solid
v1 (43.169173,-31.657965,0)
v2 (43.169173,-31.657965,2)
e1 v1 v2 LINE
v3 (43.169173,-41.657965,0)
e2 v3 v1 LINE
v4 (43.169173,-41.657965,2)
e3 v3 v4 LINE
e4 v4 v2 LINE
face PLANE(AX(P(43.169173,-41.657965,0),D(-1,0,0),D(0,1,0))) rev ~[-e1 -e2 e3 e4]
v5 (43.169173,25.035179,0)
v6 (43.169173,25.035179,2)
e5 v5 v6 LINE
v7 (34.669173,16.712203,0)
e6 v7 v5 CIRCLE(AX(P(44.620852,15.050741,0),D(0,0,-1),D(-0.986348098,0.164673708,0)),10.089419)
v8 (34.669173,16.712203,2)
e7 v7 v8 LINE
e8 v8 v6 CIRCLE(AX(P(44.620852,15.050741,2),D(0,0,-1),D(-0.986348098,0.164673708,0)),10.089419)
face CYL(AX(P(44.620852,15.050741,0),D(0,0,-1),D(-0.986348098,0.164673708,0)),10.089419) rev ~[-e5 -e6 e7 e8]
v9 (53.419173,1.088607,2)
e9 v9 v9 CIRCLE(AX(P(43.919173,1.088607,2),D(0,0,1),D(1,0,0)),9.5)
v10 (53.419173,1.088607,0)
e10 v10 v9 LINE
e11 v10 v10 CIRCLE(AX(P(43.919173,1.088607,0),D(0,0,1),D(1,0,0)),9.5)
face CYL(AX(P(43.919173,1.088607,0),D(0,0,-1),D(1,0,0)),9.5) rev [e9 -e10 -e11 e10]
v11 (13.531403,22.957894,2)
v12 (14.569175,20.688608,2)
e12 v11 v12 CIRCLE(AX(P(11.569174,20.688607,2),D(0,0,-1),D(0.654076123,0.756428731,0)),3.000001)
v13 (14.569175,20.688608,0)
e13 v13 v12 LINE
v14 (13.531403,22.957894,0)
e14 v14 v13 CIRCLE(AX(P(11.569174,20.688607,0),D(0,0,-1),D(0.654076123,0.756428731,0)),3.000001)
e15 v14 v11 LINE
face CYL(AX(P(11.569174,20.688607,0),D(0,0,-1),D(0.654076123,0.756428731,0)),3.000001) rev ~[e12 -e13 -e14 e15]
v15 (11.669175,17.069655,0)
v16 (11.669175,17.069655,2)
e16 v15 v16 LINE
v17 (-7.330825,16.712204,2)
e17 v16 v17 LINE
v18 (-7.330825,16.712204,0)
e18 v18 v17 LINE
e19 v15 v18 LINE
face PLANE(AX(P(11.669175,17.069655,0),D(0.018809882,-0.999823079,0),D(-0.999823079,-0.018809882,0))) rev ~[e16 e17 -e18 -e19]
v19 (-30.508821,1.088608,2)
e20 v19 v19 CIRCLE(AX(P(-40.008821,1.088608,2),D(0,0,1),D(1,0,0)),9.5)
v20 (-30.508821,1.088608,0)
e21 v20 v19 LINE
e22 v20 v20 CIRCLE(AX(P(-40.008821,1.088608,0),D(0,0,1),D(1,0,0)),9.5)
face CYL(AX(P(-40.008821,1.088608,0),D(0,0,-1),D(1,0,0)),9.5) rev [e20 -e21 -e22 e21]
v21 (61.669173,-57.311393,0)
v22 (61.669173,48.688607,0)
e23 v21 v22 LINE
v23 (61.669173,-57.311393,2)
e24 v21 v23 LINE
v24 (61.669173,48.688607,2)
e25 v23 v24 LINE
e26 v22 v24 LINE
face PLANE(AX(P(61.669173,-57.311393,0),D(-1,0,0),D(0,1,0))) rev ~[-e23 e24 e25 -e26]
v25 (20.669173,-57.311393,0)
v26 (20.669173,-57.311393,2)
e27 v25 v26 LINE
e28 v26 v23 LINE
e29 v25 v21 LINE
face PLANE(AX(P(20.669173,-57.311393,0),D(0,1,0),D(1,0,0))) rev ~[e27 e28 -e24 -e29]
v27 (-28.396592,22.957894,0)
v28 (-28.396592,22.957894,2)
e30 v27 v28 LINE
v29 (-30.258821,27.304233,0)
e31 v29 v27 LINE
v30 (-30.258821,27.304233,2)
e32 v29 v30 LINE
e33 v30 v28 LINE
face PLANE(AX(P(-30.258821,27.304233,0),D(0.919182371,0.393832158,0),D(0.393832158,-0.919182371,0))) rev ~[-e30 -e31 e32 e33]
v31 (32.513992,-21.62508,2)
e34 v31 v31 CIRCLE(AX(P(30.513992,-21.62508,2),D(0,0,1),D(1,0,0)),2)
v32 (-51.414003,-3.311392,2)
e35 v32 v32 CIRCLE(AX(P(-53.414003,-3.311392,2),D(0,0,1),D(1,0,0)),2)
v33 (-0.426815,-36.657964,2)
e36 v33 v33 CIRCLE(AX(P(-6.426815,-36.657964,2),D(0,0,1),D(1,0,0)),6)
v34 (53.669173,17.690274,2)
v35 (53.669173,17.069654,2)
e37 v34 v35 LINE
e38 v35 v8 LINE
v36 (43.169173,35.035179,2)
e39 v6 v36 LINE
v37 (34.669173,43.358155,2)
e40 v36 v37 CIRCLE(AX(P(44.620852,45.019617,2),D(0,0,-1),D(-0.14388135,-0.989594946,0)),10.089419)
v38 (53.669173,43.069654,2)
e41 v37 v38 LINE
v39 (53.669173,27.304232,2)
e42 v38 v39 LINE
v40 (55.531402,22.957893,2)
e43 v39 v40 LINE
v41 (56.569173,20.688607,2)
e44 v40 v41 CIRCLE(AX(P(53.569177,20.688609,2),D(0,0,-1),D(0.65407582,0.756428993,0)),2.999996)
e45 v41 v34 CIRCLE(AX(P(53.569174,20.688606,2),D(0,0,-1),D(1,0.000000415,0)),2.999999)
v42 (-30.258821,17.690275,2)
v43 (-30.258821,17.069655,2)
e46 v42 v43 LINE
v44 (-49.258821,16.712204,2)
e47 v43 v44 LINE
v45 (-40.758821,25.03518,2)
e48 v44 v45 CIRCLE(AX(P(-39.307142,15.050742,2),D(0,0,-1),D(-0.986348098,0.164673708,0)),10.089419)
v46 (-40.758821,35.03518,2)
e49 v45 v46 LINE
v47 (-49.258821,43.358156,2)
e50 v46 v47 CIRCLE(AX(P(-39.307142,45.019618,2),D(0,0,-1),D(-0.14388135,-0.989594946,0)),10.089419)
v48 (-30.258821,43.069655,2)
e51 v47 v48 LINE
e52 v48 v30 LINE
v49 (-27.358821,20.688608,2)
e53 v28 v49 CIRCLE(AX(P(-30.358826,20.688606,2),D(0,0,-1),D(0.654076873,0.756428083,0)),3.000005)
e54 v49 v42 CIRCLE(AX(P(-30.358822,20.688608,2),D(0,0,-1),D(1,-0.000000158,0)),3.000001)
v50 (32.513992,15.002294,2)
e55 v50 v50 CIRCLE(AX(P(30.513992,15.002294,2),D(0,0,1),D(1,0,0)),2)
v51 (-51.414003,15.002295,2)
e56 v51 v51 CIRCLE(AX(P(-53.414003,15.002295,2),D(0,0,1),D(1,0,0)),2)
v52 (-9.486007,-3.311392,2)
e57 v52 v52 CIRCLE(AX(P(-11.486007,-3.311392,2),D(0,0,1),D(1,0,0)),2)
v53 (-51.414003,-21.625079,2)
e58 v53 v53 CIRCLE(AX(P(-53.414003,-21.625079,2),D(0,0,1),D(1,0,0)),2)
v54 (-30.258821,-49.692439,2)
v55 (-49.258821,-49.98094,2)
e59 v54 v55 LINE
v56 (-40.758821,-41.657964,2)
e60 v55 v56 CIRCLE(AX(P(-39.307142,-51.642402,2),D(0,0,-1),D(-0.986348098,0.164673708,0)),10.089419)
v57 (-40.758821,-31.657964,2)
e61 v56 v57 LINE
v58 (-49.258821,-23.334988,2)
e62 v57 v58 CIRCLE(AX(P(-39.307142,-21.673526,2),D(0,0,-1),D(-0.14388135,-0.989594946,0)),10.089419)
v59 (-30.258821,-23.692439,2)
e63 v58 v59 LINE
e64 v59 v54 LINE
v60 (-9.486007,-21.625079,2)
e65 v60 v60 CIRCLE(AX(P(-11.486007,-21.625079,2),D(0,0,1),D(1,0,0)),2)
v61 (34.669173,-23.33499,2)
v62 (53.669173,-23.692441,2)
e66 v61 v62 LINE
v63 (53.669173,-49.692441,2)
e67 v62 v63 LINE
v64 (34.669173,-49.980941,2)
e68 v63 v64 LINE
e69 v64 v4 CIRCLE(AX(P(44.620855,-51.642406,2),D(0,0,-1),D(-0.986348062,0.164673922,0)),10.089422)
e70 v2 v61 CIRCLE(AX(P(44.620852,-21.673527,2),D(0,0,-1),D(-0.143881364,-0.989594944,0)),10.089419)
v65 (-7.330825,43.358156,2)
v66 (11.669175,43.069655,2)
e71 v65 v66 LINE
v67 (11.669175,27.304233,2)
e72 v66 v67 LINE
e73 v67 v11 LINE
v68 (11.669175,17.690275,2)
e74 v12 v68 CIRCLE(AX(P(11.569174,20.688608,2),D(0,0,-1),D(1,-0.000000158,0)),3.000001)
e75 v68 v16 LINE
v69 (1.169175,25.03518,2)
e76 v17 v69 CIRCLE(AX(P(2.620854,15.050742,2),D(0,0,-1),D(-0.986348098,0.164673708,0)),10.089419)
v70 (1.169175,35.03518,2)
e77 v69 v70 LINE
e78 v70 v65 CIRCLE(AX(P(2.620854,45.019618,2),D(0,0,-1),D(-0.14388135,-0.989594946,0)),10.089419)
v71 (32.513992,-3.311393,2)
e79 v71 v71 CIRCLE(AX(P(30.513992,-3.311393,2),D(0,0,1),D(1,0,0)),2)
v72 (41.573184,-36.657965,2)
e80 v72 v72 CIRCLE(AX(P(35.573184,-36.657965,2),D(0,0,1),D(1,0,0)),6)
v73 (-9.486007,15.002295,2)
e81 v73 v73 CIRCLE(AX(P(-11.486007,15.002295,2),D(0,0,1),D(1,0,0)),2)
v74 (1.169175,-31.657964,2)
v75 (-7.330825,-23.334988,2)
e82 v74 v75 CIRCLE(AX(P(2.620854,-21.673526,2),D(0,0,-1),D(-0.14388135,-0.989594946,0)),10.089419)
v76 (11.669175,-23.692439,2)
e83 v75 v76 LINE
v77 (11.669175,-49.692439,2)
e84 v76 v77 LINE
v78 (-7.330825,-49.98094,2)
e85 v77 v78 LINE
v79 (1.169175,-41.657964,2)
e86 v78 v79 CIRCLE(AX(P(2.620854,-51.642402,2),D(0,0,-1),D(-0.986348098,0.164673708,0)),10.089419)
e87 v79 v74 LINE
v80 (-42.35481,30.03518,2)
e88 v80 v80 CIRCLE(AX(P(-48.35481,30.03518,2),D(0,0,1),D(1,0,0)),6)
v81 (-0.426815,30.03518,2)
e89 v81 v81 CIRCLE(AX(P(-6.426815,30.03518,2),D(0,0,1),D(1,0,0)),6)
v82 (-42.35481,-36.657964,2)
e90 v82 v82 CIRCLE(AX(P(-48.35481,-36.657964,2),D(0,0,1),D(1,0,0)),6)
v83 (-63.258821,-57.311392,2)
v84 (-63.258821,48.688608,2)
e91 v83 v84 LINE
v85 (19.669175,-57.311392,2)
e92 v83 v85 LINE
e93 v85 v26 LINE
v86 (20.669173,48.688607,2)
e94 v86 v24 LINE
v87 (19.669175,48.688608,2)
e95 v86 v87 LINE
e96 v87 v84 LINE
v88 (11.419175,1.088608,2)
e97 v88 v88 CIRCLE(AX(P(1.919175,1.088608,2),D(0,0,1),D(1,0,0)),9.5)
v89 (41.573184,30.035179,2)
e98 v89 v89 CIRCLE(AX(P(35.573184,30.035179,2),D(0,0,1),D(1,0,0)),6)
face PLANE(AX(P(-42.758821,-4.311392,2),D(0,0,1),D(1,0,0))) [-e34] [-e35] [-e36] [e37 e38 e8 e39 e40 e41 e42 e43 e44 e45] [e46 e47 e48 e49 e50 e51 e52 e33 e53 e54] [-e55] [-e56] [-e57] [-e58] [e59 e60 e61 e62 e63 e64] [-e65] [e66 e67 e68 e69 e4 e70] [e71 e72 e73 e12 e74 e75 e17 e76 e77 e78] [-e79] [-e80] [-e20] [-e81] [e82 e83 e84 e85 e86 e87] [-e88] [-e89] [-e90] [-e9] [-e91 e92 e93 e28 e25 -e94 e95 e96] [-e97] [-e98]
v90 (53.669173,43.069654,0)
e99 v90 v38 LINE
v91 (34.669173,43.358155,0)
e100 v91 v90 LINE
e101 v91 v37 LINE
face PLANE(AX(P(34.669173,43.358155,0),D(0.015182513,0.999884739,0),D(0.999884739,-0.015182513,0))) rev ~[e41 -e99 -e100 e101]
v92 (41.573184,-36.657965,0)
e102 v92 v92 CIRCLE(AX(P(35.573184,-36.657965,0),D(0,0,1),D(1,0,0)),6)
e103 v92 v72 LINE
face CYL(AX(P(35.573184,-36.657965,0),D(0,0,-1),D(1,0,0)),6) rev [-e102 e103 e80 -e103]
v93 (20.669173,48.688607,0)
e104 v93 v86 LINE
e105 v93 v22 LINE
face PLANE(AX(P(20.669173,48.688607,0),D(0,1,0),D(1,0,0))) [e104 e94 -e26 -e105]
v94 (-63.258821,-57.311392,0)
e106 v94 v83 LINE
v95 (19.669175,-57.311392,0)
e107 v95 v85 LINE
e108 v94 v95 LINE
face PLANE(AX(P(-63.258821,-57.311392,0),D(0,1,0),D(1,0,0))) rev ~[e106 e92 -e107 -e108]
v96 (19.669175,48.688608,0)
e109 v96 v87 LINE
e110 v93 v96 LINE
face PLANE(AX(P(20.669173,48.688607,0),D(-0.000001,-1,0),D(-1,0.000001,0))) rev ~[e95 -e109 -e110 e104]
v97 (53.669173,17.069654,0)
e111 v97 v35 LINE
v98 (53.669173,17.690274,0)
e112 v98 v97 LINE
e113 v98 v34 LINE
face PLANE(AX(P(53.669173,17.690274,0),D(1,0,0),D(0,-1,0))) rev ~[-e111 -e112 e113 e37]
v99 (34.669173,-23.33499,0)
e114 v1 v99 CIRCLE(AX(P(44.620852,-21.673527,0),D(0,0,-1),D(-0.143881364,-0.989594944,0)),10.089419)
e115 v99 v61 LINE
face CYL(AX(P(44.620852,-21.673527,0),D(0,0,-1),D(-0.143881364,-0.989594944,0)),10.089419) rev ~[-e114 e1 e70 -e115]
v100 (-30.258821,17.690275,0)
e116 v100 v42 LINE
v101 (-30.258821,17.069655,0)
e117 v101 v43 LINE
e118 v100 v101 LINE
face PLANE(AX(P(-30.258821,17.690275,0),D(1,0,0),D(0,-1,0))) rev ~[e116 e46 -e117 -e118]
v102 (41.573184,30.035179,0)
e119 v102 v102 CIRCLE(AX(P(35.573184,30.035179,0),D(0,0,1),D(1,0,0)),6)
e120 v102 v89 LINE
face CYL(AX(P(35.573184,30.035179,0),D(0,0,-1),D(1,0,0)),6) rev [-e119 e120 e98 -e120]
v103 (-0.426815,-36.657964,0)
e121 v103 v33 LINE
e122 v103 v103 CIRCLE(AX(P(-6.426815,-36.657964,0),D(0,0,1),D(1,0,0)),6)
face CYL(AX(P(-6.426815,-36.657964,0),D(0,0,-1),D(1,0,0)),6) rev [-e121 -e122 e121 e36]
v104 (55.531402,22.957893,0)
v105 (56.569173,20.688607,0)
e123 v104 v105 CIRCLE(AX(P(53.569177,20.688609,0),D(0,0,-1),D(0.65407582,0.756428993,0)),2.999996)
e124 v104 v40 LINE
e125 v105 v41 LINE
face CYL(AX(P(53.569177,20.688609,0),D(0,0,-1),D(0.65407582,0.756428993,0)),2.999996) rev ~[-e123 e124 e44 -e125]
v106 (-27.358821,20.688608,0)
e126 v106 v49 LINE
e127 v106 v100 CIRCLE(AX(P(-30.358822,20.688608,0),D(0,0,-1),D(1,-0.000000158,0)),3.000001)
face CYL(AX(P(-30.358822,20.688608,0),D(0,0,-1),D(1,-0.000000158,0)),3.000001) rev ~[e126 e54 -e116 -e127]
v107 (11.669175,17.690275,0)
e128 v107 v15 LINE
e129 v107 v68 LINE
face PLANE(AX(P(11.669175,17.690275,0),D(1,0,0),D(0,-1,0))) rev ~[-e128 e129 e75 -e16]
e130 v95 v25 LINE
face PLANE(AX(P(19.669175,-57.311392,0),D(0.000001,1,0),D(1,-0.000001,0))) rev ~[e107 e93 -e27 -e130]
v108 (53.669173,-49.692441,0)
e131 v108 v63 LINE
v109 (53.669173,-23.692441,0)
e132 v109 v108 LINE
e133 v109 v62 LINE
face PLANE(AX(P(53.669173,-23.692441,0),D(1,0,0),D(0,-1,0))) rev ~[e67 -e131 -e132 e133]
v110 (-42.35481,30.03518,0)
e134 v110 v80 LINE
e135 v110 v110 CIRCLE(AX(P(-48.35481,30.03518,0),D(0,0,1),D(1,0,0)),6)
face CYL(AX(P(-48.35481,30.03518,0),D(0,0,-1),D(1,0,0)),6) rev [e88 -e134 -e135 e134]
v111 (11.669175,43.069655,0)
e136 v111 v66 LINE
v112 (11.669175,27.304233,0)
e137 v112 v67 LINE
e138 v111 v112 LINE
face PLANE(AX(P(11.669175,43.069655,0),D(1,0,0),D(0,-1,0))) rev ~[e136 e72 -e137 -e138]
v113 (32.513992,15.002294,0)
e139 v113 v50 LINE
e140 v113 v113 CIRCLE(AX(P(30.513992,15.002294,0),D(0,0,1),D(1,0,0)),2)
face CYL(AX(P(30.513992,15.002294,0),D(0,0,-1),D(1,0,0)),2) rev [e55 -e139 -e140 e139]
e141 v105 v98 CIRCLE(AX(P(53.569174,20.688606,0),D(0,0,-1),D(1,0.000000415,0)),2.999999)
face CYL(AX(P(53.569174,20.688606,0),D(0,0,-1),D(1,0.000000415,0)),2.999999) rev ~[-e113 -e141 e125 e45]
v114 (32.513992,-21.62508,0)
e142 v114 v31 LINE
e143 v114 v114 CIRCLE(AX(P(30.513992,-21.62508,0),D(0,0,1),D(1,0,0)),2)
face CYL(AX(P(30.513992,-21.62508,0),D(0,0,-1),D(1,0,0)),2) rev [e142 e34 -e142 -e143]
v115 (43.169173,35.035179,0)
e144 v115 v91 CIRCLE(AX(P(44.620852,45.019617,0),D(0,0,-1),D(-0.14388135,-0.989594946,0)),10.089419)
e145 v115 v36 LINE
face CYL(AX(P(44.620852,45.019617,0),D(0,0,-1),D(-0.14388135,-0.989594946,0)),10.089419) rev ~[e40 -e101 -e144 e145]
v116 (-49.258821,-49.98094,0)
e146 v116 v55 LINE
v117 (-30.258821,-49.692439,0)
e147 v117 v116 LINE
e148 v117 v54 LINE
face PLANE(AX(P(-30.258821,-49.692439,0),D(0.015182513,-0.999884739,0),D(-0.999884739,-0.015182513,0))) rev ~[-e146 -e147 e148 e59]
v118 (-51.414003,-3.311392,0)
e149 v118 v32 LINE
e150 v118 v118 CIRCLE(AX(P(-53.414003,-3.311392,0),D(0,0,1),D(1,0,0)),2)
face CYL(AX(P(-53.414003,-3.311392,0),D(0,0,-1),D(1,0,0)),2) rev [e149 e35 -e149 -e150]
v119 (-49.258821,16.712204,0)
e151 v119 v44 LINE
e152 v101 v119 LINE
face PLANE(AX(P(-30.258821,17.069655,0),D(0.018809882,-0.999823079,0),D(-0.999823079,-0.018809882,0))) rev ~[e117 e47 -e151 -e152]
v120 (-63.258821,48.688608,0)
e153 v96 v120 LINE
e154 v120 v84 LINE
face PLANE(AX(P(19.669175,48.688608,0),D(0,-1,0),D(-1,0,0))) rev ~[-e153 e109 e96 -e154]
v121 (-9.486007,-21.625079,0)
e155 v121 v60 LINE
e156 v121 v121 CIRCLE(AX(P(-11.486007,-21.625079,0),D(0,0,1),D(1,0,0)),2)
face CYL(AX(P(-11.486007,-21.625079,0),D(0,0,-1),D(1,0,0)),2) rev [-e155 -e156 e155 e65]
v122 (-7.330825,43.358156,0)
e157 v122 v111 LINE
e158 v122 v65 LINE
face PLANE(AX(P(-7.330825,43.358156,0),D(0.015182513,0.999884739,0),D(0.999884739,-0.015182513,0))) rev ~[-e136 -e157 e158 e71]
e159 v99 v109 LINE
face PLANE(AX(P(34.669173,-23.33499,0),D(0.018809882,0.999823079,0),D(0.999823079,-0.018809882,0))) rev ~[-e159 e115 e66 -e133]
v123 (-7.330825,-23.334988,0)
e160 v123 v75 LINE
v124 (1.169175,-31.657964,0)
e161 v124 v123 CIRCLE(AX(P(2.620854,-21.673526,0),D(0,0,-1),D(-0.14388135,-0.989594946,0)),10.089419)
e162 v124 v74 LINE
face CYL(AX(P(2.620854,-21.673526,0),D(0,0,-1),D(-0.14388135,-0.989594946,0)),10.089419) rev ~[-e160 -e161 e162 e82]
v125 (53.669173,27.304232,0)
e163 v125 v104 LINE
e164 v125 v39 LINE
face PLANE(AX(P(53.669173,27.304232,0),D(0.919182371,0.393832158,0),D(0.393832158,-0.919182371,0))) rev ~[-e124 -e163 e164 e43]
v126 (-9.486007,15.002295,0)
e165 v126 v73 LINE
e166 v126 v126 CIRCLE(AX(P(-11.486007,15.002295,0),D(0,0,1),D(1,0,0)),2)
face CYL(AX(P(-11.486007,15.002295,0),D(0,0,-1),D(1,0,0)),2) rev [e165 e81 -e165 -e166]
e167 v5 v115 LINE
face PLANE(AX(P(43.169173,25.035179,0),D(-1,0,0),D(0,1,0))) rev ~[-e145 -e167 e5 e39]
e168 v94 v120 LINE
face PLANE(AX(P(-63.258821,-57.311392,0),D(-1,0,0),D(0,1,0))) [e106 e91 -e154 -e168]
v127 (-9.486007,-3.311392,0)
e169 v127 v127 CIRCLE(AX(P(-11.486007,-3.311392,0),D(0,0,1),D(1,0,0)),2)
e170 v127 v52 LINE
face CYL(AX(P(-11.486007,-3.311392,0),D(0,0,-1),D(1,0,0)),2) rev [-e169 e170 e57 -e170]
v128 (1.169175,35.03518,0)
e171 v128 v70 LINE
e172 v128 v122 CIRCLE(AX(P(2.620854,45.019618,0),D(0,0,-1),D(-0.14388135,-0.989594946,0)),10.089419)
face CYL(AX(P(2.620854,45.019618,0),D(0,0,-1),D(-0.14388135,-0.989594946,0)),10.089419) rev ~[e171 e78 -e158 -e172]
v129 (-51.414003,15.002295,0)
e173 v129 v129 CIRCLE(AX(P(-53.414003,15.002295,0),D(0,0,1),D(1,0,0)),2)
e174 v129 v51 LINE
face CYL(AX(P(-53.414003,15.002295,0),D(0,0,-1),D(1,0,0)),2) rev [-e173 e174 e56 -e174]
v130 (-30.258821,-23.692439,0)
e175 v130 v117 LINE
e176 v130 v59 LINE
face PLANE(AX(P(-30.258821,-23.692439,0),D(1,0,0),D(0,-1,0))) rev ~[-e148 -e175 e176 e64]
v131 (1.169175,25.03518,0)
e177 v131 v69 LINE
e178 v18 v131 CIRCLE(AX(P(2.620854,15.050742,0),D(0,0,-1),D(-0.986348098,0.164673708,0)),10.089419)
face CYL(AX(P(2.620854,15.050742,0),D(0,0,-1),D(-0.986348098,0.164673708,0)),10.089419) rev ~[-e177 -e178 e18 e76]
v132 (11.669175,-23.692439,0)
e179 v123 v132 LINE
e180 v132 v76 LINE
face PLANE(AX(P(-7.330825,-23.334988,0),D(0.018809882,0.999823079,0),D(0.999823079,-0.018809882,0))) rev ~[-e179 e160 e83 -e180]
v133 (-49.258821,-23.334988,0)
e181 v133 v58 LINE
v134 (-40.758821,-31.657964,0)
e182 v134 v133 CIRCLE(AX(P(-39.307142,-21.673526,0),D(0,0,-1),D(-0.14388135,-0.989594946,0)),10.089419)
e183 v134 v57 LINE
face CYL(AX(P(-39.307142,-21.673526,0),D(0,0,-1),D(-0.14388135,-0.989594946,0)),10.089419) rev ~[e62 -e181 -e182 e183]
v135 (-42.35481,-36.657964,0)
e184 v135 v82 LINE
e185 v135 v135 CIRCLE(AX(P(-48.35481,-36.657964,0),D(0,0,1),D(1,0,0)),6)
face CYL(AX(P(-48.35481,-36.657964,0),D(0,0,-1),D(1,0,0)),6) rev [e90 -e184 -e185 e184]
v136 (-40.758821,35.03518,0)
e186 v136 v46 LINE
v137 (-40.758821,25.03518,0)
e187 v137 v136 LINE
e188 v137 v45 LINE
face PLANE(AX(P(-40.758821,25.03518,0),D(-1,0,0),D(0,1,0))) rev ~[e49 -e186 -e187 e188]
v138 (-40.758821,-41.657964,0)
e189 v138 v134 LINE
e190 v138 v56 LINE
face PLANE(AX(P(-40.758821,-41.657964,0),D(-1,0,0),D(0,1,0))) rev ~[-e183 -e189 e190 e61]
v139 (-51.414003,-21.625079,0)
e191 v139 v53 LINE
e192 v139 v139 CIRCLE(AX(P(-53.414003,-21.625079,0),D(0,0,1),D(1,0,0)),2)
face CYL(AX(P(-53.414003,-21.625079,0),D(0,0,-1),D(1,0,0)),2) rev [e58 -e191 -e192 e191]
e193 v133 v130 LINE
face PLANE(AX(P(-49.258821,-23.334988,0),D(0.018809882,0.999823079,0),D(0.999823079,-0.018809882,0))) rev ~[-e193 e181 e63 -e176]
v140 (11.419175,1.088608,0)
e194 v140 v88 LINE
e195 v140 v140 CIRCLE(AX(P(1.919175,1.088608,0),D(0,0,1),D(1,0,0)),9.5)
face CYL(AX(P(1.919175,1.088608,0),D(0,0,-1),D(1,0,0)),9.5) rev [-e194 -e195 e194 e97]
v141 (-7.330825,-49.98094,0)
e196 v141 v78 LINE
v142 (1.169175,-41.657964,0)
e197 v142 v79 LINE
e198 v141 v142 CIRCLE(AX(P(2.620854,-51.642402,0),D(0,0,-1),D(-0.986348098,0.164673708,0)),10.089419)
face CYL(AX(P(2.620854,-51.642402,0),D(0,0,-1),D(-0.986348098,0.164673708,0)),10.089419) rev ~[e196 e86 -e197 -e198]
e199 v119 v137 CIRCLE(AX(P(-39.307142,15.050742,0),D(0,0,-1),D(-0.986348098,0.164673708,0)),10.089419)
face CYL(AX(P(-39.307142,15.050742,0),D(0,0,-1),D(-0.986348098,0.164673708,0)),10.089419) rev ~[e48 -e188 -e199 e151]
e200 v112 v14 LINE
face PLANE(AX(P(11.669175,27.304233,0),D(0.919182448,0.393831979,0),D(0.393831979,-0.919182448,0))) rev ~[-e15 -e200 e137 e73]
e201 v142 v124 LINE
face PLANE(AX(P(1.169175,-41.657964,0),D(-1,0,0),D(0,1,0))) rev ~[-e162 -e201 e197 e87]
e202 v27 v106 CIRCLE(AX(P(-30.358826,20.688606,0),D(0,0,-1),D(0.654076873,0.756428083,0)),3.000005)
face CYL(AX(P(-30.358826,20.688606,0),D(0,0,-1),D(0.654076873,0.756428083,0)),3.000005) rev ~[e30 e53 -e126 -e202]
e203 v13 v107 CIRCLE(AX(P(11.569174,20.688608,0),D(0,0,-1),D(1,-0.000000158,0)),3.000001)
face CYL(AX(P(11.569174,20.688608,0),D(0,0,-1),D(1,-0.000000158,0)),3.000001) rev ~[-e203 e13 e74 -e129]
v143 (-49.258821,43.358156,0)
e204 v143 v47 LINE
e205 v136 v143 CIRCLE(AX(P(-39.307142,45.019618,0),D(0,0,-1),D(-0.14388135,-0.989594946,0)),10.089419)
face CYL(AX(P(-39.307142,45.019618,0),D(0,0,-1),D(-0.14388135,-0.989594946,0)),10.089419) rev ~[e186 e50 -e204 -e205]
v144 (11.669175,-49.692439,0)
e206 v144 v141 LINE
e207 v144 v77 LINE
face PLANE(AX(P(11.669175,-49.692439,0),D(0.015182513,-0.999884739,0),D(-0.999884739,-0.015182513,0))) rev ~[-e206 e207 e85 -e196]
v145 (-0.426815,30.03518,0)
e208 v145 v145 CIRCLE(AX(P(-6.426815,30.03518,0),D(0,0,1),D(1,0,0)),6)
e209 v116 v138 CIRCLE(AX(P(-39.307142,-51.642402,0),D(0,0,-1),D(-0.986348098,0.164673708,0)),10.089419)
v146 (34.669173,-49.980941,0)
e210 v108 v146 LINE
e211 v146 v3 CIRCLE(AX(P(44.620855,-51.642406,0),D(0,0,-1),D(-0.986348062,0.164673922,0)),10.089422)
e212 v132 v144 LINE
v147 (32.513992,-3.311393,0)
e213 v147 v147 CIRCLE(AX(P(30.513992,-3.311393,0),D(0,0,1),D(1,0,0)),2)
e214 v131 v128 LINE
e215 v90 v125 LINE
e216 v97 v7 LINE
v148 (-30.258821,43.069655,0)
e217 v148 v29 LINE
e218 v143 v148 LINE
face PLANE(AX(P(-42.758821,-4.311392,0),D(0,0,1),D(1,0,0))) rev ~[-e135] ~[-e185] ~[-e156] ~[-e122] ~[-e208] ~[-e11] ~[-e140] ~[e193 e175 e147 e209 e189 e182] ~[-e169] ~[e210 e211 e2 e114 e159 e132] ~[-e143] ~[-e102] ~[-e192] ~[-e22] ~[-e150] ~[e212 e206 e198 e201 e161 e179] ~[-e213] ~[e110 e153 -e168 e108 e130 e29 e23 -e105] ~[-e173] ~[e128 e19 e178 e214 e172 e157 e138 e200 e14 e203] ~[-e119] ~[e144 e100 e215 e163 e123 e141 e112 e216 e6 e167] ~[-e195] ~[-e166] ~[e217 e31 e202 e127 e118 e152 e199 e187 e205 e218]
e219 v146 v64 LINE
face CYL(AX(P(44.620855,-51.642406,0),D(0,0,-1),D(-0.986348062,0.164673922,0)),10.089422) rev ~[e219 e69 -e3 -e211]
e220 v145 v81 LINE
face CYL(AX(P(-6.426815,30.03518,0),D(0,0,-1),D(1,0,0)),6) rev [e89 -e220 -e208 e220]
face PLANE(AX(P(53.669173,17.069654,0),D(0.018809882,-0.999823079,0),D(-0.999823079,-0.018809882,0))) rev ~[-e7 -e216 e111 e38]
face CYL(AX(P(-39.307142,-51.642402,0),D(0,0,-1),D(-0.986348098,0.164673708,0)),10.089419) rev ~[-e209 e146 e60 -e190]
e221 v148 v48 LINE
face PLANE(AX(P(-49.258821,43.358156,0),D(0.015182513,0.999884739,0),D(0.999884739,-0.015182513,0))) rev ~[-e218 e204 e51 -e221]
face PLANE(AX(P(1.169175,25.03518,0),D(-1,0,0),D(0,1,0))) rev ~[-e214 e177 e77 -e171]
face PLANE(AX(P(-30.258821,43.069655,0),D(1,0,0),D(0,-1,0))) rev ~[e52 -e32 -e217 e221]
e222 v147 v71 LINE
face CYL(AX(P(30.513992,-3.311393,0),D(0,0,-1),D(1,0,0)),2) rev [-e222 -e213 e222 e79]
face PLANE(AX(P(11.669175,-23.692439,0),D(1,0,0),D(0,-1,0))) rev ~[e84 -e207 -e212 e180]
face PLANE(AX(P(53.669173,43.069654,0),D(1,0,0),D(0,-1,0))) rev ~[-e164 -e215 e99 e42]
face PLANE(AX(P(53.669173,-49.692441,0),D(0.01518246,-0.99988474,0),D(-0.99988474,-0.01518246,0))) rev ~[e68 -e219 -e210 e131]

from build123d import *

# Parameters (mm, degrees)
F0_W     = 41
F0_H     = 106
F0_R     = 6
F0_R_2   = 2
F0_R_3   = 9.5
F0_W_2   = 0.927996
F1_DEPTH = 2


with BuildPart() as f1:
    # F0 (on Top) → F1 (new body)
    with BuildSketch(Plane.XY):
        with Locations((-42.758821, -4.311392)):
            Rectangle(F0_W, F0_H)
        with Locations((-48.35481, -36.657964)):
            Circle(F0_R, mode=Mode.SUBTRACT)
        with BuildLine():
            ThreePointArc((-40.758821, -31.657964), (-46.365975, -28.882496), (-49.258821, -23.334988))
            Line((-49.258821, -23.334988), (-30.258821, -23.692439))
            Line((-30.258821, -23.692439), (-30.258821, -49.692439))
            Line((-30.258821, -49.692439), (-49.258821, -49.98094))
            ThreePointArc((-49.258821, -49.98094), (-46.365975, -44.433432), (-40.758821, -41.657964))
            Line((-40.758821, -41.657964), (-40.758821, -31.657964))
        make_face(mode=Mode.SUBTRACT)
        with Locations((-53.414003, -21.625079)):
            Circle(F0_R_2, mode=Mode.SUBTRACT)
        with Locations((-53.414003, -3.311392)):
            Circle(F0_R_2, mode=Mode.SUBTRACT)
        with Locations((-40.008821, 1.088608)):
            Circle(F0_R_3, mode=Mode.SUBTRACT)
        with Locations((-53.414003, 15.002295)):
            Circle(F0_R_2, mode=Mode.SUBTRACT)
        with Locations((-48.35481, 30.03518)):
            Circle(F0_R, mode=Mode.SUBTRACT)
        with BuildLine():
            ThreePointArc((-40.758821, 35.03518), (-46.365975, 37.810648), (-49.258821, 43.358156))
            Line((-49.258821, 43.358156), (-30.258821, 43.069655))
            Line((-30.258821, 43.069655), (-30.258821, 27.304233))
            Line((-30.258821, 27.304233), (-28.396592, 22.957894))
            ThreePointArc((-28.396592, 22.957894), (-27.630572, 21.936268), (-27.358821, 20.688608))
            ThreePointArc((-27.358821, 20.688608), (-28.202435, 18.602943), (-30.258821, 17.690275))
            Line((-30.258821, 17.690275), (-30.258821, 17.069655))
            Line((-30.258821, 17.069655), (-49.258821, 16.712204))
            ThreePointArc((-49.258821, 16.712204), (-46.365975, 22.259712), (-40.758821, 25.03518))
            Line((-40.758821, 25.03518), (-40.758821, 35.03518))
        make_face(mode=Mode.SUBTRACT)
        with Locations((-21.794823, -4.311392)):
            Rectangle(F0_W_2, F0_H)
        with Locations((-0.830825, -4.311392)):
            Rectangle(F0_W, F0_H)
        with Locations((-6.426815, -36.657964)):
            Circle(F0_R, mode=Mode.SUBTRACT)
        with Locations((-11.486007, -21.625079)):
            Circle(F0_R_2, mode=Mode.SUBTRACT)
        with BuildLine():
            ThreePointArc((1.169175, -31.657964), (-4.437979, -28.882496), (-7.330825, -23.334988))
            Line((-7.330825, -23.334988), (11.669175, -23.692439))
            Line((11.669175, -23.692439), (11.669175, -49.692439))
            Line((11.669175, -49.692439), (-7.330825, -49.98094))
            ThreePointArc((-7.330825, -49.98094), (-4.437979, -44.433432), (1.169175, -41.657964))
            Line((1.169175, -41.657964), (1.169175, -31.657964))
        make_face(mode=Mode.SUBTRACT)
        with Locations((-11.486007, -3.311392)):
            Circle(F0_R_2, mode=Mode.SUBTRACT)
        with Locations((-11.486007, 15.002295)):
            Circle(F0_R_2, mode=Mode.SUBTRACT)
        with Locations((-6.426815, 30.03518)):
            Circle(F0_R, mode=Mode.SUBTRACT)
        with Locations((1.919175, 1.088608)):
            Circle(F0_R_3, mode=Mode.SUBTRACT)
        with BuildLine():
            ThreePointArc((1.169175, 35.03518), (-4.437979, 37.810648), (-7.330825, 43.358156))
            Line((-7.330825, 43.358156), (11.669175, 43.069655))
            Line((11.669175, 43.069655), (11.669175, 27.304233))
            Line((11.669175, 27.304233), (13.531403, 22.957894))
            ThreePointArc((13.531403, 22.957894), (14.297424, 21.936268), (14.569175, 20.688608))
            ThreePointArc((14.569175, 20.688608), (13.725561, 18.602943), (11.669175, 17.690275))
            Line((11.669175, 17.690275), (11.669175, 17.069655))
            Line((11.669175, 17.069655), (-7.330825, 16.712204))
            ThreePointArc((-7.330825, 16.712204), (-4.437979, 22.259712), (1.169175, 25.03518))
            Line((1.169175, 25.03518), (1.169175, 35.03518))
        make_face(mode=Mode.SUBTRACT)
        Polygon((20.669173, 48.688607), (19.669175, 48.688608), (19.669175, -57.311392), (20.669173, -57.311393), align=None)
        with Locations((41.169173, -4.311393)):
            Rectangle(F0_W, F0_H)
        with Locations((35.573184, -36.657965)):
            Circle(F0_R, mode=Mode.SUBTRACT)
        with BuildLine():
            ThreePointArc((43.169173, -31.657965), (37.562019, -28.882497), (34.669173, -23.33499))
            Line((34.669173, -23.33499), (53.669173, -23.692441))
            Line((53.669173, -23.692441), (53.669173, -49.692441))
            Line((53.669173, -49.692441), (34.669173, -49.980941))
            ThreePointArc((34.669173, -49.980941), (37.562019, -44.433434), (43.169173, -41.657965))
            Line((43.169173, -41.657965), (43.169173, -31.657965))
        make_face(mode=Mode.SUBTRACT)
        with Locations((30.513992, -21.62508)):
            Circle(F0_R_2, mode=Mode.SUBTRACT)
        with Locations((30.513992, -3.311393)):
            Circle(F0_R_2, mode=Mode.SUBTRACT)
        with Locations((43.919173, 1.088607)):
            Circle(F0_R_3, mode=Mode.SUBTRACT)
        with Locations((30.513992, 15.002294)):
            Circle(F0_R_2, mode=Mode.SUBTRACT)
        with Locations((35.573184, 30.035179)):
            Circle(F0_R, mode=Mode.SUBTRACT)
        with BuildLine():
            ThreePointArc((43.169173, 35.035179), (37.562019, 37.810647), (34.669173, 43.358155))
            Line((34.669173, 43.358155), (53.669173, 43.069654))
            Line((53.669173, 43.069654), (53.669173, 27.304232))
            Line((53.669173, 27.304232), (55.531402, 22.957893))
            ThreePointArc((55.531402, 22.957893), (56.297423, 21.936267), (56.569173, 20.688607))
            ThreePointArc((56.569173, 20.688607), (55.725559, 18.602941), (53.669173, 17.690274))
            Line((53.669173, 17.690274), (53.669173, 17.069654))
            Line((53.669173, 17.069654), (34.669173, 16.712203))
            ThreePointArc((34.669173, 16.712203), (37.562019, 22.259711), (43.169173, 25.035179))
            Line((43.169173, 25.035179), (43.169173, 35.035179))
        make_face(mode=Mode.SUBTRACT)
    extrude(amount=F1_DEPTH)


solid = f1.part
